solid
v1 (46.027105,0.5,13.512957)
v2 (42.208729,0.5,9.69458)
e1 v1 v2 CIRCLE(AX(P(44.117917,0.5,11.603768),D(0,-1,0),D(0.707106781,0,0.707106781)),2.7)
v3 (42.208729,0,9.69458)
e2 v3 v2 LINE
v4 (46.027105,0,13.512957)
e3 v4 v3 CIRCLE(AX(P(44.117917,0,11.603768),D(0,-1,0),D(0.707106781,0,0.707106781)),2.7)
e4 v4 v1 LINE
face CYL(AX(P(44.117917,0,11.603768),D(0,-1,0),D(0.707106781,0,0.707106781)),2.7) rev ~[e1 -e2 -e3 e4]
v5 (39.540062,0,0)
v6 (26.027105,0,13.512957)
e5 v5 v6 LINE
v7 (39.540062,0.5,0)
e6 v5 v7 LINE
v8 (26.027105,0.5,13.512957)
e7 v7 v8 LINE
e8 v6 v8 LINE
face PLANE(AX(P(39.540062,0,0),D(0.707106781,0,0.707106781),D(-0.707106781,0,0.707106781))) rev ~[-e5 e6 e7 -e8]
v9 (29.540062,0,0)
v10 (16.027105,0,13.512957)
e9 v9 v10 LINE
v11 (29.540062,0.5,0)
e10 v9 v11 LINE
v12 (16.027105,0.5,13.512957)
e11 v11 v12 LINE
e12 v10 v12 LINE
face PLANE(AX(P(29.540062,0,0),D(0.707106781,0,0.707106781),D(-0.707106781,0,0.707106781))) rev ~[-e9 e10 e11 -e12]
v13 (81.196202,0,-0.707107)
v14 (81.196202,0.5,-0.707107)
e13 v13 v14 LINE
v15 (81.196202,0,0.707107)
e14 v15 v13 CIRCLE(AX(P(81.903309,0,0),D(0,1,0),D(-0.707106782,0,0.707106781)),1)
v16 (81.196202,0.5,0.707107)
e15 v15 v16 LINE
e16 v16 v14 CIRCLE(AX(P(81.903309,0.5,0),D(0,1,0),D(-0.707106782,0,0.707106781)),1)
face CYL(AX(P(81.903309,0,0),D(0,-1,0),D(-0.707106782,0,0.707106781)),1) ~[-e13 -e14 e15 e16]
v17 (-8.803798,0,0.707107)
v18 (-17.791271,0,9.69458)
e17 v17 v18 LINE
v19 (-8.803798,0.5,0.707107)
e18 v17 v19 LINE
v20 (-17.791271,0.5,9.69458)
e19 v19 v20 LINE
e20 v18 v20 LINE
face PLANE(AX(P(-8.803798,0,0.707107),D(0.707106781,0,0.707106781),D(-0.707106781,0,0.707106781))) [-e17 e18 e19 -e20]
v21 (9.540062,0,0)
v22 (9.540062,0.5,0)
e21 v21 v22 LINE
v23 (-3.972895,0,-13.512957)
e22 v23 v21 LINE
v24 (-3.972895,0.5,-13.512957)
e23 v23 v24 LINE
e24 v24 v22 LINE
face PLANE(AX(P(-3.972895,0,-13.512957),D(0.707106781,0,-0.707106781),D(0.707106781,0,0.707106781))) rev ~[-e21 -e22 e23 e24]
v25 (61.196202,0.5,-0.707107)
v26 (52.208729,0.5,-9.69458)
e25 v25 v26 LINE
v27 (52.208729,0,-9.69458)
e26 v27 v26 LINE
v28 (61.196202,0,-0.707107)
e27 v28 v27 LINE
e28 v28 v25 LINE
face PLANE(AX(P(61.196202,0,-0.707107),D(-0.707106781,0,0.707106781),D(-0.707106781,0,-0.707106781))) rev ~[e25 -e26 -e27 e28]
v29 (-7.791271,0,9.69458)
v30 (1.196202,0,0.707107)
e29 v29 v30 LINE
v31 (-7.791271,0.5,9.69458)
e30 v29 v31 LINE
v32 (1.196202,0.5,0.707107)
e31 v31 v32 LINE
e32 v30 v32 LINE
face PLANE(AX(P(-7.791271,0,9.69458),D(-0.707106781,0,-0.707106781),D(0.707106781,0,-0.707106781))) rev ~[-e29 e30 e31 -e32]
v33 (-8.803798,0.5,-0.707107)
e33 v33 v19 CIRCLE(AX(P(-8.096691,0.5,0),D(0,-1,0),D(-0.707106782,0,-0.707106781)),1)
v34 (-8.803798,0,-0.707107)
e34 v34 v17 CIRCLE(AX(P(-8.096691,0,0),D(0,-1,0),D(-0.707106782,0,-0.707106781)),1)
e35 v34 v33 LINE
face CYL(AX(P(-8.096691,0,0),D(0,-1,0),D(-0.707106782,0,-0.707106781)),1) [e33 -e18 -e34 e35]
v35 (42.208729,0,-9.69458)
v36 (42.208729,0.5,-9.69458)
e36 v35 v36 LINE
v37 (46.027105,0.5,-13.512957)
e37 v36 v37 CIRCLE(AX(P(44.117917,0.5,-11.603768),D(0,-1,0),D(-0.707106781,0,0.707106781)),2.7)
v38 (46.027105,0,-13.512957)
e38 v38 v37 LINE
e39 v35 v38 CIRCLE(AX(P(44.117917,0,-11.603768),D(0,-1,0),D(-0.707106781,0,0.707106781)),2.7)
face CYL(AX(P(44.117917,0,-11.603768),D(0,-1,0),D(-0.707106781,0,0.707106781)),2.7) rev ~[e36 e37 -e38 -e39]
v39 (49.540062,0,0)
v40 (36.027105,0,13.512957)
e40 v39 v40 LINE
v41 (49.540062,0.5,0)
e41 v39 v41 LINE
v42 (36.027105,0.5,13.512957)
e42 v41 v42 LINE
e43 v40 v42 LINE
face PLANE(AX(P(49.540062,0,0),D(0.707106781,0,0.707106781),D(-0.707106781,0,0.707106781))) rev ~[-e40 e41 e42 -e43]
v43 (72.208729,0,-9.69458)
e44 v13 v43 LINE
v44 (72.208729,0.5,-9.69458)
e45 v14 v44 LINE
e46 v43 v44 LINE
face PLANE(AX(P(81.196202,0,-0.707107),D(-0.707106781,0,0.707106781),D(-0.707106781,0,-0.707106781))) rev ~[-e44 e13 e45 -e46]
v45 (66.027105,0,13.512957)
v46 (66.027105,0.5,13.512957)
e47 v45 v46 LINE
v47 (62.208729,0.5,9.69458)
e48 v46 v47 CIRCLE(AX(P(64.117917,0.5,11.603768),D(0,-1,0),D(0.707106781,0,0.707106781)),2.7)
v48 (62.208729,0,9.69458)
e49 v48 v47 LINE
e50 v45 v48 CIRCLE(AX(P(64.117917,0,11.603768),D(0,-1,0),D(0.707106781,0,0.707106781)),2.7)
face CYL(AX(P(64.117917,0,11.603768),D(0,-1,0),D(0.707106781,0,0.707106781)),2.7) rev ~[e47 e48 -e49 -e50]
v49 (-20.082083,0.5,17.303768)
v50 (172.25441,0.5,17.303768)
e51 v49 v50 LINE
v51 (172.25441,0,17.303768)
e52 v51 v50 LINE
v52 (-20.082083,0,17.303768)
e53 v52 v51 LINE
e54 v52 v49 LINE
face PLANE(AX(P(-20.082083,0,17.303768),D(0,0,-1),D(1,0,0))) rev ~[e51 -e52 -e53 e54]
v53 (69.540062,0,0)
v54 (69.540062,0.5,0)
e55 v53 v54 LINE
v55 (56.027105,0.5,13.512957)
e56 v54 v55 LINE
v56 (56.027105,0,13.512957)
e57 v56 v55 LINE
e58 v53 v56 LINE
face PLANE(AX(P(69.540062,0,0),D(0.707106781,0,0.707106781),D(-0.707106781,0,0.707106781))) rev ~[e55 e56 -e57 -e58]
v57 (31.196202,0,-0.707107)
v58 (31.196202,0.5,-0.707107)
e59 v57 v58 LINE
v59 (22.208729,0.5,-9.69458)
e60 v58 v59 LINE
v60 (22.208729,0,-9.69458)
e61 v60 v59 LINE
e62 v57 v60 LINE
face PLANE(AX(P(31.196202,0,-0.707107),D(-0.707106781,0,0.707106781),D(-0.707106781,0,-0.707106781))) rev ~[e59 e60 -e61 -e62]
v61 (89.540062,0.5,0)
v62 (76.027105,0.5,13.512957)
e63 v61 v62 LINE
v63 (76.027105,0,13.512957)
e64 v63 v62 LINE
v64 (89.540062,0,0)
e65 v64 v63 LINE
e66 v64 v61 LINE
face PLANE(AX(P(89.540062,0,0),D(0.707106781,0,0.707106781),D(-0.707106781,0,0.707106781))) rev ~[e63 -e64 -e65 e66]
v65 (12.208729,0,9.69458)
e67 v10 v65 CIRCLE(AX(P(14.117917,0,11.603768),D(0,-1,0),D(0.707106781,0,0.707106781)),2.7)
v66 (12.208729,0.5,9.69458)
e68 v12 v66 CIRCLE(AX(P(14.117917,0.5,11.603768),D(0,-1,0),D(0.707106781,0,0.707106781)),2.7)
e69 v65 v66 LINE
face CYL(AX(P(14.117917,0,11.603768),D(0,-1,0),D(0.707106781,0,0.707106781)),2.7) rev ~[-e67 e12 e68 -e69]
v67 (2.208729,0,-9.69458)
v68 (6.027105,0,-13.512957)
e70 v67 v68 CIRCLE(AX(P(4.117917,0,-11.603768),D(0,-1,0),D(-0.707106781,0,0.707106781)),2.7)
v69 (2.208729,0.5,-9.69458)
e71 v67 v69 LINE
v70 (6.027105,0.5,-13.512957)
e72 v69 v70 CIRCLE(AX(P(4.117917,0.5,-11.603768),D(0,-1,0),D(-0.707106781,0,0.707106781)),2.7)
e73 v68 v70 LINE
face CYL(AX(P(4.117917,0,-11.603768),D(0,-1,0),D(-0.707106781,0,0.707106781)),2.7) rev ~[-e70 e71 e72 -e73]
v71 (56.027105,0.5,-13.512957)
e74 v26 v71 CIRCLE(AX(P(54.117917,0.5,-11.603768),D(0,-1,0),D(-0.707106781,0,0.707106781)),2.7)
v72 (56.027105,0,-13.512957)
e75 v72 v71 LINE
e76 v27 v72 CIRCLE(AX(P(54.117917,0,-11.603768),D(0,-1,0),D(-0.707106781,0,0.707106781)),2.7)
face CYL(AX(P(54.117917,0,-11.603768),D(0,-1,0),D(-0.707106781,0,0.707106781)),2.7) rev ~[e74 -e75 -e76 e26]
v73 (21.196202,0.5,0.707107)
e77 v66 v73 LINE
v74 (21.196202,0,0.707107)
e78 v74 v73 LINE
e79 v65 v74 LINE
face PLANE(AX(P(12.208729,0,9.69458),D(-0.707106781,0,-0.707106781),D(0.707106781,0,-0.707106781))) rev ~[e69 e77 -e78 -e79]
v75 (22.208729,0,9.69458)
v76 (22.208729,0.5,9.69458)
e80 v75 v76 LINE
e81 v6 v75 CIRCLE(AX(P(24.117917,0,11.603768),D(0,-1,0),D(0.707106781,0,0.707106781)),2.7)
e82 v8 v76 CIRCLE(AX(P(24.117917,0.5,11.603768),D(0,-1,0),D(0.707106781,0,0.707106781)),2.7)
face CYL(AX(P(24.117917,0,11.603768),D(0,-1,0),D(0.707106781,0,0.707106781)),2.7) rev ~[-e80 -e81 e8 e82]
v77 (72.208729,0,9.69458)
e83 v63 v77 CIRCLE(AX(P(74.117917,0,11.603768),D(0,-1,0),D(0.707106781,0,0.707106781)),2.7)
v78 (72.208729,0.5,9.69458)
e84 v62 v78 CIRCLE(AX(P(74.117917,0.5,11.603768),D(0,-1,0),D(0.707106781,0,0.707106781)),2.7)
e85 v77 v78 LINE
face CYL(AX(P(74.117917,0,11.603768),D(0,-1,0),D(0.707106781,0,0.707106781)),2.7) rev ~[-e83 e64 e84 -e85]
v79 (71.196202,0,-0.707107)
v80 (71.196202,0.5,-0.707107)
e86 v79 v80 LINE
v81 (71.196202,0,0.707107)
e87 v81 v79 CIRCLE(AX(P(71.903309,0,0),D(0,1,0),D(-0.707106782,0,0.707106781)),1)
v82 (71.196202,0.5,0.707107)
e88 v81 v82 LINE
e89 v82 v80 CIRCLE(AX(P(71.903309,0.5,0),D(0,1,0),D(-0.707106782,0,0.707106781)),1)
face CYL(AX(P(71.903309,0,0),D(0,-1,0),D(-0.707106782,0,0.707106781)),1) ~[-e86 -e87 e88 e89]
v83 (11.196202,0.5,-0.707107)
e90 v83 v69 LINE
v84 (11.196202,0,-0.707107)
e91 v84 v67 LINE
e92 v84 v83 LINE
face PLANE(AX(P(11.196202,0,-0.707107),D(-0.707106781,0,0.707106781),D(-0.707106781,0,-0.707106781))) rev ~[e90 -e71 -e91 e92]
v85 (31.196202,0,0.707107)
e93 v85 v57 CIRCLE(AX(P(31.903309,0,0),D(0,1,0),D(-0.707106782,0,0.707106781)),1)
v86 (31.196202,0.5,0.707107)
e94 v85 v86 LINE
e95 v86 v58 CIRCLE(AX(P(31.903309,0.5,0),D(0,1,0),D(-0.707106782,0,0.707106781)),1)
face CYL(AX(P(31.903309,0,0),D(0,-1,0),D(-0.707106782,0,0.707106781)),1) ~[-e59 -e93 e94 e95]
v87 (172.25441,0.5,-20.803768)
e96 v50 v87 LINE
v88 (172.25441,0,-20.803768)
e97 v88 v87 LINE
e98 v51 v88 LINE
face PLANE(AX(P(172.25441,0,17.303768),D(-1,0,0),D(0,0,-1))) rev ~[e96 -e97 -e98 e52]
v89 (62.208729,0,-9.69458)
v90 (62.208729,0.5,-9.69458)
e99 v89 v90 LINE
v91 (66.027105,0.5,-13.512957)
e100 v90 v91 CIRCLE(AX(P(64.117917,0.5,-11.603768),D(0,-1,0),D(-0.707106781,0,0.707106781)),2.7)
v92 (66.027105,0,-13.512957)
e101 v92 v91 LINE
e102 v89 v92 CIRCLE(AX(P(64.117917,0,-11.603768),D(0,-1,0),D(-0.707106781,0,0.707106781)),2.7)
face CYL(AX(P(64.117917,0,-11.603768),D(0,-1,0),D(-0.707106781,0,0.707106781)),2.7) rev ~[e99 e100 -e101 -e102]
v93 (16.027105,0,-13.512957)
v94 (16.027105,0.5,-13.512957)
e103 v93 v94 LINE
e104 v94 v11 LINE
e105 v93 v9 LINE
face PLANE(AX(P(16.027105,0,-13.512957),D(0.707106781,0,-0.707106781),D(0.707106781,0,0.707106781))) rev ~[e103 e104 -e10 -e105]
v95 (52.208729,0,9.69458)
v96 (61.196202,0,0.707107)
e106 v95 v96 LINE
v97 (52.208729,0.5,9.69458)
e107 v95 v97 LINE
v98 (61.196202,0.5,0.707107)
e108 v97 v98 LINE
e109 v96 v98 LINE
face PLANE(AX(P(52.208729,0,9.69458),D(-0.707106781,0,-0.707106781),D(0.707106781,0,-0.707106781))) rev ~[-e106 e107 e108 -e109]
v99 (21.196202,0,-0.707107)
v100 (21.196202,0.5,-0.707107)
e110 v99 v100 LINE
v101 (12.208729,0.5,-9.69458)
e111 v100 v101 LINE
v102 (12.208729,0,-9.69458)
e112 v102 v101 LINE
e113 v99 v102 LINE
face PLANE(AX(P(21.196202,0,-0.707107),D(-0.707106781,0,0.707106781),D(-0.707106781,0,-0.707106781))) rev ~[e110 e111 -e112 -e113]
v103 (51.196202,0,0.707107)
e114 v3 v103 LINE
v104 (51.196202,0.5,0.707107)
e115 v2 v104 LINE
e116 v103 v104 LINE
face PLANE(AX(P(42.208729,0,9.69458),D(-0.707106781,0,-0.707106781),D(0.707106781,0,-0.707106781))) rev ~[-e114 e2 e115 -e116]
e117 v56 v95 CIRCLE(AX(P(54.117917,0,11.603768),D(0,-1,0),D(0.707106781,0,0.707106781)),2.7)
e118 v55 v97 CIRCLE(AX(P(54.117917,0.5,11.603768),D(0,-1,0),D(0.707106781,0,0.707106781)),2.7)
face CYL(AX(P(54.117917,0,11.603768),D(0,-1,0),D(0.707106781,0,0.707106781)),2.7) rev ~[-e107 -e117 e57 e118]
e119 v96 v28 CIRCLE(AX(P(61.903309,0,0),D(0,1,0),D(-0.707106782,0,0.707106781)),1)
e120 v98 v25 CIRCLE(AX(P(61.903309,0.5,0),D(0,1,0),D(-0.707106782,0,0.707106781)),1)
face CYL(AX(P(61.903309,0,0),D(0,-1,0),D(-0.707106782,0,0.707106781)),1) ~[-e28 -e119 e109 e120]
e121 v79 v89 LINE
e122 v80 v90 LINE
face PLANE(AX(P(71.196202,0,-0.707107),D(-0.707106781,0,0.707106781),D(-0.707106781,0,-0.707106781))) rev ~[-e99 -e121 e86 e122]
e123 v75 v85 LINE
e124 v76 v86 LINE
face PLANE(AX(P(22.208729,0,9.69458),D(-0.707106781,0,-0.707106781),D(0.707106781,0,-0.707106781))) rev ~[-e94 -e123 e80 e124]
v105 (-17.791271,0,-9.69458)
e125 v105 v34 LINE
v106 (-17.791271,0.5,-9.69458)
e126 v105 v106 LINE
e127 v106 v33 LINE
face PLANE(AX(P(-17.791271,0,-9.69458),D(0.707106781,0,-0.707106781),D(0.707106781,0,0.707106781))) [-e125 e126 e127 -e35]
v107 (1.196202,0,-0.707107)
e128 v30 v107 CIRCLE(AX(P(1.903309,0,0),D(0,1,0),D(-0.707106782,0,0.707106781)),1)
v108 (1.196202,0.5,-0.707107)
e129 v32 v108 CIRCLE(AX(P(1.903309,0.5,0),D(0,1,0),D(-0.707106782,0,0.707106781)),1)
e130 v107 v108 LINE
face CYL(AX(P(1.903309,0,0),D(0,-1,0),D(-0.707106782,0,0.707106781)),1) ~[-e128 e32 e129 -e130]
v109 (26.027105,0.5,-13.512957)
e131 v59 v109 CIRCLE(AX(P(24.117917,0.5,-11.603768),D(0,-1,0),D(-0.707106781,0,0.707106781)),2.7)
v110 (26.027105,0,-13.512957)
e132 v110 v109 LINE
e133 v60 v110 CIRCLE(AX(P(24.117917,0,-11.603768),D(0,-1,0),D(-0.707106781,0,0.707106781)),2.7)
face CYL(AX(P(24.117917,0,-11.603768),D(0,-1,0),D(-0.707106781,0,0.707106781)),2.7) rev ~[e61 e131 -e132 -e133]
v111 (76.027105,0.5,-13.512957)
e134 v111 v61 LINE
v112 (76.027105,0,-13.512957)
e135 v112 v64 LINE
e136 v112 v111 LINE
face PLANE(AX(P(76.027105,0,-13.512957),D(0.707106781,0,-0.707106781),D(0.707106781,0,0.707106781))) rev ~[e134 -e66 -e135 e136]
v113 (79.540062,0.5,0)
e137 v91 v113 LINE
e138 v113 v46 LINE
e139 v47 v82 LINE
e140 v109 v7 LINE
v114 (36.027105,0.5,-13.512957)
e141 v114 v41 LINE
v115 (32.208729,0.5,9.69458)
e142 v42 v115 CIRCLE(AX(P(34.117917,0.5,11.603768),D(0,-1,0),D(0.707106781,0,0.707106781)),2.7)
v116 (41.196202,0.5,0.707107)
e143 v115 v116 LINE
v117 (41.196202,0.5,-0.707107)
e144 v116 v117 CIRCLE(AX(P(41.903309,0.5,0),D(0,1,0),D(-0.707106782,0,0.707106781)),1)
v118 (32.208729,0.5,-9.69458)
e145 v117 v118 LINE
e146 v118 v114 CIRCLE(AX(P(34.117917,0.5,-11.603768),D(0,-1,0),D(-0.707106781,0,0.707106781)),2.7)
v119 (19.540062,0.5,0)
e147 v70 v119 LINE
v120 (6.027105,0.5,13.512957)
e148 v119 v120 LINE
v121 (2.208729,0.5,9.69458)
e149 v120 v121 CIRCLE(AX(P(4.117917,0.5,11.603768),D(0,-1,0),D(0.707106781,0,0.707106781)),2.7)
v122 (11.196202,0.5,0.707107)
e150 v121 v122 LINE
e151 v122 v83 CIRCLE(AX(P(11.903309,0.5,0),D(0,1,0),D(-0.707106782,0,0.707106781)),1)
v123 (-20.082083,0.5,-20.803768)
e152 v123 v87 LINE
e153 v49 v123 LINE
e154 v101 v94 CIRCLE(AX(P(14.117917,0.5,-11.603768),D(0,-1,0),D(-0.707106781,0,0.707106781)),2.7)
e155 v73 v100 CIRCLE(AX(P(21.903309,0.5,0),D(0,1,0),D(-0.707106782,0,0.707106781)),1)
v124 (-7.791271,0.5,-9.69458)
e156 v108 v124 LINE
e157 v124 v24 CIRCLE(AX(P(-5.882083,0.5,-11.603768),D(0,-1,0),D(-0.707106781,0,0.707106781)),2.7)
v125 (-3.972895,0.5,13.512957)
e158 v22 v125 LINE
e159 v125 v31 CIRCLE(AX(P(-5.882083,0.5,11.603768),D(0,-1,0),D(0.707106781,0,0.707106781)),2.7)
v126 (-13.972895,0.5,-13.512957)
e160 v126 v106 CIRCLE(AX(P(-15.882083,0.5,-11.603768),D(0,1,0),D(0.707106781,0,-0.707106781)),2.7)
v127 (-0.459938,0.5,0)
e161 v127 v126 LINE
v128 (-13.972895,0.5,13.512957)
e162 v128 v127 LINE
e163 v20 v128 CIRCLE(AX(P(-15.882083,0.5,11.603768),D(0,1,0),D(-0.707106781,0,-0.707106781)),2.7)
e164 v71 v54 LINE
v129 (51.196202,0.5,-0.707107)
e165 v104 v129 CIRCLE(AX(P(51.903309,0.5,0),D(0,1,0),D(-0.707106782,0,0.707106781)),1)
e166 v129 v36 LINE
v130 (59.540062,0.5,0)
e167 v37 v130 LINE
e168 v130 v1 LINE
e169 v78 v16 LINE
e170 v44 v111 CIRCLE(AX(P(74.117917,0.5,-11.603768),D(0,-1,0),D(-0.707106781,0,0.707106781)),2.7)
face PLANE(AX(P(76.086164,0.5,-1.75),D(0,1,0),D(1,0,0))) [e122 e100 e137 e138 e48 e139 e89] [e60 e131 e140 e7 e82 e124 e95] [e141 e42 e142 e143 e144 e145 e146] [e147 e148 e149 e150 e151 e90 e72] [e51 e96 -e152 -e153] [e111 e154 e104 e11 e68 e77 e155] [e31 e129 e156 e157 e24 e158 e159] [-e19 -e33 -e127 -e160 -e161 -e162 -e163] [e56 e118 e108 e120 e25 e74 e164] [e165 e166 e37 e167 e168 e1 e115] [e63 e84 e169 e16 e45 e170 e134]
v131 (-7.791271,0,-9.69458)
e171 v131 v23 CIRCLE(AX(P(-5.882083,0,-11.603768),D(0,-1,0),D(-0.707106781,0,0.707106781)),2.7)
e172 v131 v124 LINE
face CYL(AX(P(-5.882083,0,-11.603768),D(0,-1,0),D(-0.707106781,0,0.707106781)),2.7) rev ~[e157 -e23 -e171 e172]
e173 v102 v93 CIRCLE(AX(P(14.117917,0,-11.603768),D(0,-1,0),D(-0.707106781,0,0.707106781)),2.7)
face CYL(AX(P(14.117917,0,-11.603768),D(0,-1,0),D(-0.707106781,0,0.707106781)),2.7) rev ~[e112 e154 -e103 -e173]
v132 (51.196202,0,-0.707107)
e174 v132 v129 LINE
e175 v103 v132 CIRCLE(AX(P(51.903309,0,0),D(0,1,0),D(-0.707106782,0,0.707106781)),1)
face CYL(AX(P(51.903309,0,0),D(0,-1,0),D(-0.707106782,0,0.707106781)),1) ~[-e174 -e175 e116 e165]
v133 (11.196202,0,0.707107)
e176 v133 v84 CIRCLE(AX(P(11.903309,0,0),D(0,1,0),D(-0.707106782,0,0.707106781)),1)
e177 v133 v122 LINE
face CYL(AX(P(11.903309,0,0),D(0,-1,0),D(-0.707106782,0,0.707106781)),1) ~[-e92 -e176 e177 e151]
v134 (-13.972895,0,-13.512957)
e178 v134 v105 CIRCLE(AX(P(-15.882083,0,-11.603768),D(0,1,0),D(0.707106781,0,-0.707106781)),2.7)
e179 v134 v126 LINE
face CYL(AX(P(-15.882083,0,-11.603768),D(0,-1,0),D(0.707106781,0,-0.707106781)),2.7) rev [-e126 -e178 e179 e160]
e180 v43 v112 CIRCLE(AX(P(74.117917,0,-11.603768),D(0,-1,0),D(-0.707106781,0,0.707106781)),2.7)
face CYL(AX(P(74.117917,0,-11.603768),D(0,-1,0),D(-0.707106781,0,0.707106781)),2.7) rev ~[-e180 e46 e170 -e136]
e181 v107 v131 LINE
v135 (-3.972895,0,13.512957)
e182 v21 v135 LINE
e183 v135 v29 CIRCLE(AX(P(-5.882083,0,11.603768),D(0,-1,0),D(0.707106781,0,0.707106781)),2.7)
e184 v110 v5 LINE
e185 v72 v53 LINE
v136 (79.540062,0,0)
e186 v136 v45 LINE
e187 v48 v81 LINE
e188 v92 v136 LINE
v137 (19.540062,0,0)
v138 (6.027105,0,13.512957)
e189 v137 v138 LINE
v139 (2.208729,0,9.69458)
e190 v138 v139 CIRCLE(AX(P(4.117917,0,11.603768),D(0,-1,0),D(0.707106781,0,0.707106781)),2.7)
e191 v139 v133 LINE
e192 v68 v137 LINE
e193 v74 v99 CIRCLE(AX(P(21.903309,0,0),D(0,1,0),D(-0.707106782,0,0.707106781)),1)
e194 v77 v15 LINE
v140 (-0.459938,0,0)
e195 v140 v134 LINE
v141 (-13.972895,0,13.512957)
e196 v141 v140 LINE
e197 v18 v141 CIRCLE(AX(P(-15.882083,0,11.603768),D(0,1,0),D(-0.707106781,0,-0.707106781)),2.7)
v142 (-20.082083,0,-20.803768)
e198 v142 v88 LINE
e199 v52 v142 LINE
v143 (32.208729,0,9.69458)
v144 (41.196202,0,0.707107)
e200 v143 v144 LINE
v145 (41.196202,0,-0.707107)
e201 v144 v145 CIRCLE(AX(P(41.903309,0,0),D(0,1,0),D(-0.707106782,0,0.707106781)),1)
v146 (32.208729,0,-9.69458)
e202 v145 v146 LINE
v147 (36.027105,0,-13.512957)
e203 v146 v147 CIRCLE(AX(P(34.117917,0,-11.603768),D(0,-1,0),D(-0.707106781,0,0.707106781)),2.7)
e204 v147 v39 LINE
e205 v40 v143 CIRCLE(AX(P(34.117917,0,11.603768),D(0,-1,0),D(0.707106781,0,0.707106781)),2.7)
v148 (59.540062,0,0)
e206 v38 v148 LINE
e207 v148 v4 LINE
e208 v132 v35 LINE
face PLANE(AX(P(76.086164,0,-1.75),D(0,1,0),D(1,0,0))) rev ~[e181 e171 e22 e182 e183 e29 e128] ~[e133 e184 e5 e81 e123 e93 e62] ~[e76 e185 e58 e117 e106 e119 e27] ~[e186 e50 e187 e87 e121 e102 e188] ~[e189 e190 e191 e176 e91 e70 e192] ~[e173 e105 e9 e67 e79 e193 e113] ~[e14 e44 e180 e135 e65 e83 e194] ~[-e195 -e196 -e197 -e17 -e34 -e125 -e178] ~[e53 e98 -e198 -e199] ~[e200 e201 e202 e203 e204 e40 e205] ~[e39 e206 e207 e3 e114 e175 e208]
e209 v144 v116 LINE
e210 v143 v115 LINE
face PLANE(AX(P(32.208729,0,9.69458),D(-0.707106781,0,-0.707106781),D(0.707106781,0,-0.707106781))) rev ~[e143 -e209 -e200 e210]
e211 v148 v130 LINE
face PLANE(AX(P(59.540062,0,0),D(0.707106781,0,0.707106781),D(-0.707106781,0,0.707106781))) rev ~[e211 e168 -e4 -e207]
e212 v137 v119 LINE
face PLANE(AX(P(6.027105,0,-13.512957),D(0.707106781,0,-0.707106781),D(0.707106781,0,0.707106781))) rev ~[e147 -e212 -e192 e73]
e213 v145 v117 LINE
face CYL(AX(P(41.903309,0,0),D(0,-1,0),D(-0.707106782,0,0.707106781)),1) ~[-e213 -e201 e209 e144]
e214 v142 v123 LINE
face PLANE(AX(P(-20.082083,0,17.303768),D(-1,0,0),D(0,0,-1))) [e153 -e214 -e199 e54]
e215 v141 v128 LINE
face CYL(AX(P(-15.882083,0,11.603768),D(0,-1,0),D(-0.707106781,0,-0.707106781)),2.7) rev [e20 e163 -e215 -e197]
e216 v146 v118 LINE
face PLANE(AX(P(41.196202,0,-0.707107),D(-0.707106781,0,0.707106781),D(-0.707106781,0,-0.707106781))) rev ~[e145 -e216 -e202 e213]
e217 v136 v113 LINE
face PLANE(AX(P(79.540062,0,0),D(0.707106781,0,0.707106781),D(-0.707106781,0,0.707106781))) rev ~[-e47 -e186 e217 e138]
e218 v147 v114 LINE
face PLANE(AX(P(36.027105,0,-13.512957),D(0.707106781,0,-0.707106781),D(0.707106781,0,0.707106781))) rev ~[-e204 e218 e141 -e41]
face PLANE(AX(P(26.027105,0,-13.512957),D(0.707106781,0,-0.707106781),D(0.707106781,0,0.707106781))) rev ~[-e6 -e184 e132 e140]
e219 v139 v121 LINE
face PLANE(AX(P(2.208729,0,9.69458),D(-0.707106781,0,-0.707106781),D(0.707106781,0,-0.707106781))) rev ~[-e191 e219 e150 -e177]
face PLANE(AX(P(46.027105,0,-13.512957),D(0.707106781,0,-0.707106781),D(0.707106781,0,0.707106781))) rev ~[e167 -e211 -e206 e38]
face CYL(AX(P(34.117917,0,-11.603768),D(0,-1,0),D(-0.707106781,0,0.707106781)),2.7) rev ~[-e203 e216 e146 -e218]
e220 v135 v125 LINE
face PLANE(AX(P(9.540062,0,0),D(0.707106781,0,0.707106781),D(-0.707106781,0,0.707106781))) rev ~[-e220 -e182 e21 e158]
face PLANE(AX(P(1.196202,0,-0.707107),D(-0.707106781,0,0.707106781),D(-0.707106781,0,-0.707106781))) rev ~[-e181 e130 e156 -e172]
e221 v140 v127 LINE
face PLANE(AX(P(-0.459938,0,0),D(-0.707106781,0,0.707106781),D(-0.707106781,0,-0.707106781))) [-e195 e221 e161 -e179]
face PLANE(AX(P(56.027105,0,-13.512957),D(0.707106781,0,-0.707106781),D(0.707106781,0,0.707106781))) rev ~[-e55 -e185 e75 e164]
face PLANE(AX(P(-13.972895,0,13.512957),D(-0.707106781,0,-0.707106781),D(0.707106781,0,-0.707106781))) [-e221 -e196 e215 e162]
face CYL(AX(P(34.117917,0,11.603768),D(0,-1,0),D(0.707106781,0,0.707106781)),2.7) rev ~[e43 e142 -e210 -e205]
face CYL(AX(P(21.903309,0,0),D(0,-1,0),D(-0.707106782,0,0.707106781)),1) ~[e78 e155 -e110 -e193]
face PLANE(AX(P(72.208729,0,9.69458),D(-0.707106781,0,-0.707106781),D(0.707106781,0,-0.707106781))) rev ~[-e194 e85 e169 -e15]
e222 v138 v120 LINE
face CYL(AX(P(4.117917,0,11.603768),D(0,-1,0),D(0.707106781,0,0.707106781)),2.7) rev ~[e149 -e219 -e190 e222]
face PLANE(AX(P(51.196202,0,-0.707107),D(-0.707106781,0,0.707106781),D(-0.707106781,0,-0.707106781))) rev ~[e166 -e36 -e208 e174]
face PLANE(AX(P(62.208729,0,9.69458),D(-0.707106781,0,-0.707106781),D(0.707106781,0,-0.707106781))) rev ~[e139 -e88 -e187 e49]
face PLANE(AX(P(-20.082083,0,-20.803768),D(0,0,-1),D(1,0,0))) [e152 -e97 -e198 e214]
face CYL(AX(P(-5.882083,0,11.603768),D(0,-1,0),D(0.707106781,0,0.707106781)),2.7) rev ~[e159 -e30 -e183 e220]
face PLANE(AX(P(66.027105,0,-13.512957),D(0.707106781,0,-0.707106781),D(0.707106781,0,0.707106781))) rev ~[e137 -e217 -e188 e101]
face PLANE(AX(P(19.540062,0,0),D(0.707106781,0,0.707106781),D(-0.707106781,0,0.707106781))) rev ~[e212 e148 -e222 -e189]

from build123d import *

# Parameters (mm, degrees)
SKETCH1_W           = 192.336493245
SKETCH1_H           = 38.107536872
BOSS_EXTRUDE1_DEPTH = 0.5


with BuildPart() as part:
    # Sketch1 → Boss-Extrude1 (new body)
    with BuildSketch(Plane(origin=(0, 0, 0), x_dir=(1, 0, 0), z_dir=(0, 1, 0))):
        with Locations((76.086163536, 1.75)):
            Rectangle(SKETCH1_W, SKETCH1_H)
        with BuildLine():
            Line((-17.791271396, 9.694580127), (-8.803798051, 0.707106781))
            ThreePointArc((-8.803798051, 0.707106781), (-7.096691269, 0), (-8.803798051, -0.707106781))
            Line((-8.803798051, -0.707106781), (-17.791271396, -9.694580127))
            ThreePointArc((-17.791271396, -9.694580127), (-17.791271396, -13.512956745), (-13.972894778, -13.512956745))
            Line((-13.972894778, -13.512956745), (-0.459938033, 0))
            Line((-0.459938033, 0), (-13.972894778, 13.512956745))
            ThreePointArc((-13.972894778, 13.512956745), (-17.791271396, 13.512956745), (-17.791271396, 9.694580127))
        make_face(mode=Mode.SUBTRACT)
        with BuildLine():
            Line((-3.972894778, 13.512956745), (9.540061967, 0))
            Line((9.540061967, 0), (-3.972894778, -13.512956745))
            ThreePointArc((-3.972894778, -13.512956745), (-7.791271396, -13.512956745), (-7.791271396, -9.694580127))
            Line((-7.791271396, -9.694580127), (1.196201949, -0.707106781))
            ThreePointArc((1.196201949, -0.707106781), (2.903308731, 0), (1.196201949, 0.707106781))
            Line((1.196201949, 0.707106781), (-7.791271396, 9.694580127))
            ThreePointArc((-7.791271396, 9.694580127), (-7.791271396, 13.512956745), (-3.972894778, 13.512956745))
        make_face(mode=Mode.SUBTRACT)
        with BuildLine():
            Line((6.027105222, 13.512956745), (19.540061967, 0))
            Line((19.540061967, 0), (6.027105222, -13.512956745))
            ThreePointArc((6.027105222, -13.512956745), (2.208728604, -13.512956745), (2.208728604, -9.694580127))
            Line((2.208728604, -9.694580127), (11.196201949, -0.707106781))
            ThreePointArc((11.196201949, -0.707106781), (12.903308731, 0), (11.196201949, 0.707106781))
            Line((11.196201949, 0.707106781), (2.208728604, 9.694580127))
            ThreePointArc((2.208728604, 9.694580127), (2.208728604, 13.512956745), (6.027105222, 13.512956745))
        make_face(mode=Mode.SUBTRACT)
        with BuildLine():
            Line((16.027105222, 13.512956745), (29.540061967, 0))
            Line((29.540061967, 0), (16.027105222, -13.512956745))
            ThreePointArc((16.027105222, -13.512956745), (12.208728604, -13.512956745), (12.208728604, -9.694580127))
            Line((12.208728604, -9.694580127), (21.196201949, -0.707106781))
            ThreePointArc((21.196201949, -0.707106781), (22.903308731, 0), (21.196201949, 0.707106781))
            Line((21.196201949, 0.707106781), (12.208728604, 9.694580127))
            ThreePointArc((12.208728604, 9.694580127), (12.208728604, 13.512956745), (16.027105222, 13.512956745))
        make_face(mode=Mode.SUBTRACT)
        with BuildLine():
            Line((26.027105222, 13.512956745), (39.540061967, 0))
            Line((39.540061967, 0), (26.027105222, -13.512956745))
            ThreePointArc((26.027105222, -13.512956745), (22.208728604, -13.512956745), (22.208728604, -9.694580127))
            Line((22.208728604, -9.694580127), (31.196201949, -0.707106781))
            ThreePointArc((31.196201949, -0.707106781), (32.903308731, 0), (31.196201949, 0.707106781))
            Line((31.196201949, 0.707106781), (22.208728604, 9.694580127))
            ThreePointArc((22.208728604, 9.694580127), (22.208728604, 13.512956745), (26.027105222, 13.512956745))
        make_face(mode=Mode.SUBTRACT)
        with BuildLine():
            Line((36.027105222, 13.512956745), (49.540061967, 0))
            Line((49.540061967, 0), (36.027105222, -13.512956745))
            ThreePointArc((36.027105222, -13.512956745), (32.208728604, -13.512956745), (32.208728604, -9.694580127))
            Line((32.208728604, -9.694580127), (41.196201949, -0.707106781))
            ThreePointArc((41.196201949, -0.707106781), (42.903308731, 0), (41.196201949, 0.707106781))
            Line((41.196201949, 0.707106781), (32.208728604, 9.694580127))
            ThreePointArc((32.208728604, 9.694580127), (32.208728604, 13.512956745), (36.027105222, 13.512956745))
        make_face(mode=Mode.SUBTRACT)
        with BuildLine():
            Line((46.027105222, 13.512956745), (59.540061967, 0))
            Line((59.540061967, 0), (46.027105222, -13.512956745))
            ThreePointArc((46.027105222, -13.512956745), (42.208728604, -13.512956745), (42.208728604, -9.694580127))
            Line((42.208728604, -9.694580127), (51.196201949, -0.707106781))
            ThreePointArc((51.196201949, -0.707106781), (52.903308731, 0), (51.196201949, 0.707106781))
            Line((51.196201949, 0.707106781), (42.208728604, 9.694580127))
            ThreePointArc((42.208728604, 9.694580127), (42.208728604, 13.512956745), (46.027105222, 13.512956745))
        make_face(mode=Mode.SUBTRACT)
        with BuildLine():
            Line((56.027105222, 13.512956745), (69.540061967, 0))
            Line((69.540061967, 0), (56.027105222, -13.512956745))
            ThreePointArc((56.027105222, -13.512956745), (52.208728604, -13.512956745), (52.208728604, -9.694580127))
            Line((52.208728604, -9.694580127), (61.196201949, -0.707106781))
            ThreePointArc((61.196201949, -0.707106781), (62.903308731, 0), (61.196201949, 0.707106781))
            Line((61.196201949, 0.707106781), (52.208728604, 9.694580127))
            ThreePointArc((52.208728604, 9.694580127), (52.208728604, 13.512956745), (56.027105222, 13.512956745))
        make_face(mode=Mode.SUBTRACT)
        with BuildLine():
            Line((66.027105222, 13.512956745), (79.540061967, 0))
            Line((79.540061967, 0), (66.027105222, -13.512956745))
            ThreePointArc((66.027105222, -13.512956745), (62.208728604, -13.512956745), (62.208728604, -9.694580127))
            Line((62.208728604, -9.694580127), (71.196201949, -0.707106781))
            ThreePointArc((71.196201949, -0.707106781), (72.903308731, 0), (71.196201949, 0.707106781))
            Line((71.196201949, 0.707106781), (62.208728604, 9.694580127))
            ThreePointArc((62.208728604, 9.694580127), (62.208728604, 13.512956745), (66.027105222, 13.512956745))
        make_face(mode=Mode.SUBTRACT)
        with BuildLine():
            Line((76.027105222, 13.512956745), (89.540061967, 0))
            Line((89.540061967, 0), (76.027105222, -13.512956745))
            ThreePointArc((76.027105222, -13.512956745), (72.208728604, -13.512956745), (72.208728604, -9.694580127))
            Line((72.208728604, -9.694580127), (81.196201949, -0.707106781))
            ThreePointArc((81.196201949, -0.707106781), (82.903308731, 0), (81.196201949, 0.707106781))
            Line((81.196201949, 0.707106781), (72.208728604, 9.694580127))
            ThreePointArc((72.208728604, 9.694580127), (72.208728604, 13.512956745), (76.027105222, 13.512956745))
        make_face(mode=Mode.SUBTRACT)
    extrude(amount=BOSS_EXTRUDE1_DEPTH)


solid = part.part
